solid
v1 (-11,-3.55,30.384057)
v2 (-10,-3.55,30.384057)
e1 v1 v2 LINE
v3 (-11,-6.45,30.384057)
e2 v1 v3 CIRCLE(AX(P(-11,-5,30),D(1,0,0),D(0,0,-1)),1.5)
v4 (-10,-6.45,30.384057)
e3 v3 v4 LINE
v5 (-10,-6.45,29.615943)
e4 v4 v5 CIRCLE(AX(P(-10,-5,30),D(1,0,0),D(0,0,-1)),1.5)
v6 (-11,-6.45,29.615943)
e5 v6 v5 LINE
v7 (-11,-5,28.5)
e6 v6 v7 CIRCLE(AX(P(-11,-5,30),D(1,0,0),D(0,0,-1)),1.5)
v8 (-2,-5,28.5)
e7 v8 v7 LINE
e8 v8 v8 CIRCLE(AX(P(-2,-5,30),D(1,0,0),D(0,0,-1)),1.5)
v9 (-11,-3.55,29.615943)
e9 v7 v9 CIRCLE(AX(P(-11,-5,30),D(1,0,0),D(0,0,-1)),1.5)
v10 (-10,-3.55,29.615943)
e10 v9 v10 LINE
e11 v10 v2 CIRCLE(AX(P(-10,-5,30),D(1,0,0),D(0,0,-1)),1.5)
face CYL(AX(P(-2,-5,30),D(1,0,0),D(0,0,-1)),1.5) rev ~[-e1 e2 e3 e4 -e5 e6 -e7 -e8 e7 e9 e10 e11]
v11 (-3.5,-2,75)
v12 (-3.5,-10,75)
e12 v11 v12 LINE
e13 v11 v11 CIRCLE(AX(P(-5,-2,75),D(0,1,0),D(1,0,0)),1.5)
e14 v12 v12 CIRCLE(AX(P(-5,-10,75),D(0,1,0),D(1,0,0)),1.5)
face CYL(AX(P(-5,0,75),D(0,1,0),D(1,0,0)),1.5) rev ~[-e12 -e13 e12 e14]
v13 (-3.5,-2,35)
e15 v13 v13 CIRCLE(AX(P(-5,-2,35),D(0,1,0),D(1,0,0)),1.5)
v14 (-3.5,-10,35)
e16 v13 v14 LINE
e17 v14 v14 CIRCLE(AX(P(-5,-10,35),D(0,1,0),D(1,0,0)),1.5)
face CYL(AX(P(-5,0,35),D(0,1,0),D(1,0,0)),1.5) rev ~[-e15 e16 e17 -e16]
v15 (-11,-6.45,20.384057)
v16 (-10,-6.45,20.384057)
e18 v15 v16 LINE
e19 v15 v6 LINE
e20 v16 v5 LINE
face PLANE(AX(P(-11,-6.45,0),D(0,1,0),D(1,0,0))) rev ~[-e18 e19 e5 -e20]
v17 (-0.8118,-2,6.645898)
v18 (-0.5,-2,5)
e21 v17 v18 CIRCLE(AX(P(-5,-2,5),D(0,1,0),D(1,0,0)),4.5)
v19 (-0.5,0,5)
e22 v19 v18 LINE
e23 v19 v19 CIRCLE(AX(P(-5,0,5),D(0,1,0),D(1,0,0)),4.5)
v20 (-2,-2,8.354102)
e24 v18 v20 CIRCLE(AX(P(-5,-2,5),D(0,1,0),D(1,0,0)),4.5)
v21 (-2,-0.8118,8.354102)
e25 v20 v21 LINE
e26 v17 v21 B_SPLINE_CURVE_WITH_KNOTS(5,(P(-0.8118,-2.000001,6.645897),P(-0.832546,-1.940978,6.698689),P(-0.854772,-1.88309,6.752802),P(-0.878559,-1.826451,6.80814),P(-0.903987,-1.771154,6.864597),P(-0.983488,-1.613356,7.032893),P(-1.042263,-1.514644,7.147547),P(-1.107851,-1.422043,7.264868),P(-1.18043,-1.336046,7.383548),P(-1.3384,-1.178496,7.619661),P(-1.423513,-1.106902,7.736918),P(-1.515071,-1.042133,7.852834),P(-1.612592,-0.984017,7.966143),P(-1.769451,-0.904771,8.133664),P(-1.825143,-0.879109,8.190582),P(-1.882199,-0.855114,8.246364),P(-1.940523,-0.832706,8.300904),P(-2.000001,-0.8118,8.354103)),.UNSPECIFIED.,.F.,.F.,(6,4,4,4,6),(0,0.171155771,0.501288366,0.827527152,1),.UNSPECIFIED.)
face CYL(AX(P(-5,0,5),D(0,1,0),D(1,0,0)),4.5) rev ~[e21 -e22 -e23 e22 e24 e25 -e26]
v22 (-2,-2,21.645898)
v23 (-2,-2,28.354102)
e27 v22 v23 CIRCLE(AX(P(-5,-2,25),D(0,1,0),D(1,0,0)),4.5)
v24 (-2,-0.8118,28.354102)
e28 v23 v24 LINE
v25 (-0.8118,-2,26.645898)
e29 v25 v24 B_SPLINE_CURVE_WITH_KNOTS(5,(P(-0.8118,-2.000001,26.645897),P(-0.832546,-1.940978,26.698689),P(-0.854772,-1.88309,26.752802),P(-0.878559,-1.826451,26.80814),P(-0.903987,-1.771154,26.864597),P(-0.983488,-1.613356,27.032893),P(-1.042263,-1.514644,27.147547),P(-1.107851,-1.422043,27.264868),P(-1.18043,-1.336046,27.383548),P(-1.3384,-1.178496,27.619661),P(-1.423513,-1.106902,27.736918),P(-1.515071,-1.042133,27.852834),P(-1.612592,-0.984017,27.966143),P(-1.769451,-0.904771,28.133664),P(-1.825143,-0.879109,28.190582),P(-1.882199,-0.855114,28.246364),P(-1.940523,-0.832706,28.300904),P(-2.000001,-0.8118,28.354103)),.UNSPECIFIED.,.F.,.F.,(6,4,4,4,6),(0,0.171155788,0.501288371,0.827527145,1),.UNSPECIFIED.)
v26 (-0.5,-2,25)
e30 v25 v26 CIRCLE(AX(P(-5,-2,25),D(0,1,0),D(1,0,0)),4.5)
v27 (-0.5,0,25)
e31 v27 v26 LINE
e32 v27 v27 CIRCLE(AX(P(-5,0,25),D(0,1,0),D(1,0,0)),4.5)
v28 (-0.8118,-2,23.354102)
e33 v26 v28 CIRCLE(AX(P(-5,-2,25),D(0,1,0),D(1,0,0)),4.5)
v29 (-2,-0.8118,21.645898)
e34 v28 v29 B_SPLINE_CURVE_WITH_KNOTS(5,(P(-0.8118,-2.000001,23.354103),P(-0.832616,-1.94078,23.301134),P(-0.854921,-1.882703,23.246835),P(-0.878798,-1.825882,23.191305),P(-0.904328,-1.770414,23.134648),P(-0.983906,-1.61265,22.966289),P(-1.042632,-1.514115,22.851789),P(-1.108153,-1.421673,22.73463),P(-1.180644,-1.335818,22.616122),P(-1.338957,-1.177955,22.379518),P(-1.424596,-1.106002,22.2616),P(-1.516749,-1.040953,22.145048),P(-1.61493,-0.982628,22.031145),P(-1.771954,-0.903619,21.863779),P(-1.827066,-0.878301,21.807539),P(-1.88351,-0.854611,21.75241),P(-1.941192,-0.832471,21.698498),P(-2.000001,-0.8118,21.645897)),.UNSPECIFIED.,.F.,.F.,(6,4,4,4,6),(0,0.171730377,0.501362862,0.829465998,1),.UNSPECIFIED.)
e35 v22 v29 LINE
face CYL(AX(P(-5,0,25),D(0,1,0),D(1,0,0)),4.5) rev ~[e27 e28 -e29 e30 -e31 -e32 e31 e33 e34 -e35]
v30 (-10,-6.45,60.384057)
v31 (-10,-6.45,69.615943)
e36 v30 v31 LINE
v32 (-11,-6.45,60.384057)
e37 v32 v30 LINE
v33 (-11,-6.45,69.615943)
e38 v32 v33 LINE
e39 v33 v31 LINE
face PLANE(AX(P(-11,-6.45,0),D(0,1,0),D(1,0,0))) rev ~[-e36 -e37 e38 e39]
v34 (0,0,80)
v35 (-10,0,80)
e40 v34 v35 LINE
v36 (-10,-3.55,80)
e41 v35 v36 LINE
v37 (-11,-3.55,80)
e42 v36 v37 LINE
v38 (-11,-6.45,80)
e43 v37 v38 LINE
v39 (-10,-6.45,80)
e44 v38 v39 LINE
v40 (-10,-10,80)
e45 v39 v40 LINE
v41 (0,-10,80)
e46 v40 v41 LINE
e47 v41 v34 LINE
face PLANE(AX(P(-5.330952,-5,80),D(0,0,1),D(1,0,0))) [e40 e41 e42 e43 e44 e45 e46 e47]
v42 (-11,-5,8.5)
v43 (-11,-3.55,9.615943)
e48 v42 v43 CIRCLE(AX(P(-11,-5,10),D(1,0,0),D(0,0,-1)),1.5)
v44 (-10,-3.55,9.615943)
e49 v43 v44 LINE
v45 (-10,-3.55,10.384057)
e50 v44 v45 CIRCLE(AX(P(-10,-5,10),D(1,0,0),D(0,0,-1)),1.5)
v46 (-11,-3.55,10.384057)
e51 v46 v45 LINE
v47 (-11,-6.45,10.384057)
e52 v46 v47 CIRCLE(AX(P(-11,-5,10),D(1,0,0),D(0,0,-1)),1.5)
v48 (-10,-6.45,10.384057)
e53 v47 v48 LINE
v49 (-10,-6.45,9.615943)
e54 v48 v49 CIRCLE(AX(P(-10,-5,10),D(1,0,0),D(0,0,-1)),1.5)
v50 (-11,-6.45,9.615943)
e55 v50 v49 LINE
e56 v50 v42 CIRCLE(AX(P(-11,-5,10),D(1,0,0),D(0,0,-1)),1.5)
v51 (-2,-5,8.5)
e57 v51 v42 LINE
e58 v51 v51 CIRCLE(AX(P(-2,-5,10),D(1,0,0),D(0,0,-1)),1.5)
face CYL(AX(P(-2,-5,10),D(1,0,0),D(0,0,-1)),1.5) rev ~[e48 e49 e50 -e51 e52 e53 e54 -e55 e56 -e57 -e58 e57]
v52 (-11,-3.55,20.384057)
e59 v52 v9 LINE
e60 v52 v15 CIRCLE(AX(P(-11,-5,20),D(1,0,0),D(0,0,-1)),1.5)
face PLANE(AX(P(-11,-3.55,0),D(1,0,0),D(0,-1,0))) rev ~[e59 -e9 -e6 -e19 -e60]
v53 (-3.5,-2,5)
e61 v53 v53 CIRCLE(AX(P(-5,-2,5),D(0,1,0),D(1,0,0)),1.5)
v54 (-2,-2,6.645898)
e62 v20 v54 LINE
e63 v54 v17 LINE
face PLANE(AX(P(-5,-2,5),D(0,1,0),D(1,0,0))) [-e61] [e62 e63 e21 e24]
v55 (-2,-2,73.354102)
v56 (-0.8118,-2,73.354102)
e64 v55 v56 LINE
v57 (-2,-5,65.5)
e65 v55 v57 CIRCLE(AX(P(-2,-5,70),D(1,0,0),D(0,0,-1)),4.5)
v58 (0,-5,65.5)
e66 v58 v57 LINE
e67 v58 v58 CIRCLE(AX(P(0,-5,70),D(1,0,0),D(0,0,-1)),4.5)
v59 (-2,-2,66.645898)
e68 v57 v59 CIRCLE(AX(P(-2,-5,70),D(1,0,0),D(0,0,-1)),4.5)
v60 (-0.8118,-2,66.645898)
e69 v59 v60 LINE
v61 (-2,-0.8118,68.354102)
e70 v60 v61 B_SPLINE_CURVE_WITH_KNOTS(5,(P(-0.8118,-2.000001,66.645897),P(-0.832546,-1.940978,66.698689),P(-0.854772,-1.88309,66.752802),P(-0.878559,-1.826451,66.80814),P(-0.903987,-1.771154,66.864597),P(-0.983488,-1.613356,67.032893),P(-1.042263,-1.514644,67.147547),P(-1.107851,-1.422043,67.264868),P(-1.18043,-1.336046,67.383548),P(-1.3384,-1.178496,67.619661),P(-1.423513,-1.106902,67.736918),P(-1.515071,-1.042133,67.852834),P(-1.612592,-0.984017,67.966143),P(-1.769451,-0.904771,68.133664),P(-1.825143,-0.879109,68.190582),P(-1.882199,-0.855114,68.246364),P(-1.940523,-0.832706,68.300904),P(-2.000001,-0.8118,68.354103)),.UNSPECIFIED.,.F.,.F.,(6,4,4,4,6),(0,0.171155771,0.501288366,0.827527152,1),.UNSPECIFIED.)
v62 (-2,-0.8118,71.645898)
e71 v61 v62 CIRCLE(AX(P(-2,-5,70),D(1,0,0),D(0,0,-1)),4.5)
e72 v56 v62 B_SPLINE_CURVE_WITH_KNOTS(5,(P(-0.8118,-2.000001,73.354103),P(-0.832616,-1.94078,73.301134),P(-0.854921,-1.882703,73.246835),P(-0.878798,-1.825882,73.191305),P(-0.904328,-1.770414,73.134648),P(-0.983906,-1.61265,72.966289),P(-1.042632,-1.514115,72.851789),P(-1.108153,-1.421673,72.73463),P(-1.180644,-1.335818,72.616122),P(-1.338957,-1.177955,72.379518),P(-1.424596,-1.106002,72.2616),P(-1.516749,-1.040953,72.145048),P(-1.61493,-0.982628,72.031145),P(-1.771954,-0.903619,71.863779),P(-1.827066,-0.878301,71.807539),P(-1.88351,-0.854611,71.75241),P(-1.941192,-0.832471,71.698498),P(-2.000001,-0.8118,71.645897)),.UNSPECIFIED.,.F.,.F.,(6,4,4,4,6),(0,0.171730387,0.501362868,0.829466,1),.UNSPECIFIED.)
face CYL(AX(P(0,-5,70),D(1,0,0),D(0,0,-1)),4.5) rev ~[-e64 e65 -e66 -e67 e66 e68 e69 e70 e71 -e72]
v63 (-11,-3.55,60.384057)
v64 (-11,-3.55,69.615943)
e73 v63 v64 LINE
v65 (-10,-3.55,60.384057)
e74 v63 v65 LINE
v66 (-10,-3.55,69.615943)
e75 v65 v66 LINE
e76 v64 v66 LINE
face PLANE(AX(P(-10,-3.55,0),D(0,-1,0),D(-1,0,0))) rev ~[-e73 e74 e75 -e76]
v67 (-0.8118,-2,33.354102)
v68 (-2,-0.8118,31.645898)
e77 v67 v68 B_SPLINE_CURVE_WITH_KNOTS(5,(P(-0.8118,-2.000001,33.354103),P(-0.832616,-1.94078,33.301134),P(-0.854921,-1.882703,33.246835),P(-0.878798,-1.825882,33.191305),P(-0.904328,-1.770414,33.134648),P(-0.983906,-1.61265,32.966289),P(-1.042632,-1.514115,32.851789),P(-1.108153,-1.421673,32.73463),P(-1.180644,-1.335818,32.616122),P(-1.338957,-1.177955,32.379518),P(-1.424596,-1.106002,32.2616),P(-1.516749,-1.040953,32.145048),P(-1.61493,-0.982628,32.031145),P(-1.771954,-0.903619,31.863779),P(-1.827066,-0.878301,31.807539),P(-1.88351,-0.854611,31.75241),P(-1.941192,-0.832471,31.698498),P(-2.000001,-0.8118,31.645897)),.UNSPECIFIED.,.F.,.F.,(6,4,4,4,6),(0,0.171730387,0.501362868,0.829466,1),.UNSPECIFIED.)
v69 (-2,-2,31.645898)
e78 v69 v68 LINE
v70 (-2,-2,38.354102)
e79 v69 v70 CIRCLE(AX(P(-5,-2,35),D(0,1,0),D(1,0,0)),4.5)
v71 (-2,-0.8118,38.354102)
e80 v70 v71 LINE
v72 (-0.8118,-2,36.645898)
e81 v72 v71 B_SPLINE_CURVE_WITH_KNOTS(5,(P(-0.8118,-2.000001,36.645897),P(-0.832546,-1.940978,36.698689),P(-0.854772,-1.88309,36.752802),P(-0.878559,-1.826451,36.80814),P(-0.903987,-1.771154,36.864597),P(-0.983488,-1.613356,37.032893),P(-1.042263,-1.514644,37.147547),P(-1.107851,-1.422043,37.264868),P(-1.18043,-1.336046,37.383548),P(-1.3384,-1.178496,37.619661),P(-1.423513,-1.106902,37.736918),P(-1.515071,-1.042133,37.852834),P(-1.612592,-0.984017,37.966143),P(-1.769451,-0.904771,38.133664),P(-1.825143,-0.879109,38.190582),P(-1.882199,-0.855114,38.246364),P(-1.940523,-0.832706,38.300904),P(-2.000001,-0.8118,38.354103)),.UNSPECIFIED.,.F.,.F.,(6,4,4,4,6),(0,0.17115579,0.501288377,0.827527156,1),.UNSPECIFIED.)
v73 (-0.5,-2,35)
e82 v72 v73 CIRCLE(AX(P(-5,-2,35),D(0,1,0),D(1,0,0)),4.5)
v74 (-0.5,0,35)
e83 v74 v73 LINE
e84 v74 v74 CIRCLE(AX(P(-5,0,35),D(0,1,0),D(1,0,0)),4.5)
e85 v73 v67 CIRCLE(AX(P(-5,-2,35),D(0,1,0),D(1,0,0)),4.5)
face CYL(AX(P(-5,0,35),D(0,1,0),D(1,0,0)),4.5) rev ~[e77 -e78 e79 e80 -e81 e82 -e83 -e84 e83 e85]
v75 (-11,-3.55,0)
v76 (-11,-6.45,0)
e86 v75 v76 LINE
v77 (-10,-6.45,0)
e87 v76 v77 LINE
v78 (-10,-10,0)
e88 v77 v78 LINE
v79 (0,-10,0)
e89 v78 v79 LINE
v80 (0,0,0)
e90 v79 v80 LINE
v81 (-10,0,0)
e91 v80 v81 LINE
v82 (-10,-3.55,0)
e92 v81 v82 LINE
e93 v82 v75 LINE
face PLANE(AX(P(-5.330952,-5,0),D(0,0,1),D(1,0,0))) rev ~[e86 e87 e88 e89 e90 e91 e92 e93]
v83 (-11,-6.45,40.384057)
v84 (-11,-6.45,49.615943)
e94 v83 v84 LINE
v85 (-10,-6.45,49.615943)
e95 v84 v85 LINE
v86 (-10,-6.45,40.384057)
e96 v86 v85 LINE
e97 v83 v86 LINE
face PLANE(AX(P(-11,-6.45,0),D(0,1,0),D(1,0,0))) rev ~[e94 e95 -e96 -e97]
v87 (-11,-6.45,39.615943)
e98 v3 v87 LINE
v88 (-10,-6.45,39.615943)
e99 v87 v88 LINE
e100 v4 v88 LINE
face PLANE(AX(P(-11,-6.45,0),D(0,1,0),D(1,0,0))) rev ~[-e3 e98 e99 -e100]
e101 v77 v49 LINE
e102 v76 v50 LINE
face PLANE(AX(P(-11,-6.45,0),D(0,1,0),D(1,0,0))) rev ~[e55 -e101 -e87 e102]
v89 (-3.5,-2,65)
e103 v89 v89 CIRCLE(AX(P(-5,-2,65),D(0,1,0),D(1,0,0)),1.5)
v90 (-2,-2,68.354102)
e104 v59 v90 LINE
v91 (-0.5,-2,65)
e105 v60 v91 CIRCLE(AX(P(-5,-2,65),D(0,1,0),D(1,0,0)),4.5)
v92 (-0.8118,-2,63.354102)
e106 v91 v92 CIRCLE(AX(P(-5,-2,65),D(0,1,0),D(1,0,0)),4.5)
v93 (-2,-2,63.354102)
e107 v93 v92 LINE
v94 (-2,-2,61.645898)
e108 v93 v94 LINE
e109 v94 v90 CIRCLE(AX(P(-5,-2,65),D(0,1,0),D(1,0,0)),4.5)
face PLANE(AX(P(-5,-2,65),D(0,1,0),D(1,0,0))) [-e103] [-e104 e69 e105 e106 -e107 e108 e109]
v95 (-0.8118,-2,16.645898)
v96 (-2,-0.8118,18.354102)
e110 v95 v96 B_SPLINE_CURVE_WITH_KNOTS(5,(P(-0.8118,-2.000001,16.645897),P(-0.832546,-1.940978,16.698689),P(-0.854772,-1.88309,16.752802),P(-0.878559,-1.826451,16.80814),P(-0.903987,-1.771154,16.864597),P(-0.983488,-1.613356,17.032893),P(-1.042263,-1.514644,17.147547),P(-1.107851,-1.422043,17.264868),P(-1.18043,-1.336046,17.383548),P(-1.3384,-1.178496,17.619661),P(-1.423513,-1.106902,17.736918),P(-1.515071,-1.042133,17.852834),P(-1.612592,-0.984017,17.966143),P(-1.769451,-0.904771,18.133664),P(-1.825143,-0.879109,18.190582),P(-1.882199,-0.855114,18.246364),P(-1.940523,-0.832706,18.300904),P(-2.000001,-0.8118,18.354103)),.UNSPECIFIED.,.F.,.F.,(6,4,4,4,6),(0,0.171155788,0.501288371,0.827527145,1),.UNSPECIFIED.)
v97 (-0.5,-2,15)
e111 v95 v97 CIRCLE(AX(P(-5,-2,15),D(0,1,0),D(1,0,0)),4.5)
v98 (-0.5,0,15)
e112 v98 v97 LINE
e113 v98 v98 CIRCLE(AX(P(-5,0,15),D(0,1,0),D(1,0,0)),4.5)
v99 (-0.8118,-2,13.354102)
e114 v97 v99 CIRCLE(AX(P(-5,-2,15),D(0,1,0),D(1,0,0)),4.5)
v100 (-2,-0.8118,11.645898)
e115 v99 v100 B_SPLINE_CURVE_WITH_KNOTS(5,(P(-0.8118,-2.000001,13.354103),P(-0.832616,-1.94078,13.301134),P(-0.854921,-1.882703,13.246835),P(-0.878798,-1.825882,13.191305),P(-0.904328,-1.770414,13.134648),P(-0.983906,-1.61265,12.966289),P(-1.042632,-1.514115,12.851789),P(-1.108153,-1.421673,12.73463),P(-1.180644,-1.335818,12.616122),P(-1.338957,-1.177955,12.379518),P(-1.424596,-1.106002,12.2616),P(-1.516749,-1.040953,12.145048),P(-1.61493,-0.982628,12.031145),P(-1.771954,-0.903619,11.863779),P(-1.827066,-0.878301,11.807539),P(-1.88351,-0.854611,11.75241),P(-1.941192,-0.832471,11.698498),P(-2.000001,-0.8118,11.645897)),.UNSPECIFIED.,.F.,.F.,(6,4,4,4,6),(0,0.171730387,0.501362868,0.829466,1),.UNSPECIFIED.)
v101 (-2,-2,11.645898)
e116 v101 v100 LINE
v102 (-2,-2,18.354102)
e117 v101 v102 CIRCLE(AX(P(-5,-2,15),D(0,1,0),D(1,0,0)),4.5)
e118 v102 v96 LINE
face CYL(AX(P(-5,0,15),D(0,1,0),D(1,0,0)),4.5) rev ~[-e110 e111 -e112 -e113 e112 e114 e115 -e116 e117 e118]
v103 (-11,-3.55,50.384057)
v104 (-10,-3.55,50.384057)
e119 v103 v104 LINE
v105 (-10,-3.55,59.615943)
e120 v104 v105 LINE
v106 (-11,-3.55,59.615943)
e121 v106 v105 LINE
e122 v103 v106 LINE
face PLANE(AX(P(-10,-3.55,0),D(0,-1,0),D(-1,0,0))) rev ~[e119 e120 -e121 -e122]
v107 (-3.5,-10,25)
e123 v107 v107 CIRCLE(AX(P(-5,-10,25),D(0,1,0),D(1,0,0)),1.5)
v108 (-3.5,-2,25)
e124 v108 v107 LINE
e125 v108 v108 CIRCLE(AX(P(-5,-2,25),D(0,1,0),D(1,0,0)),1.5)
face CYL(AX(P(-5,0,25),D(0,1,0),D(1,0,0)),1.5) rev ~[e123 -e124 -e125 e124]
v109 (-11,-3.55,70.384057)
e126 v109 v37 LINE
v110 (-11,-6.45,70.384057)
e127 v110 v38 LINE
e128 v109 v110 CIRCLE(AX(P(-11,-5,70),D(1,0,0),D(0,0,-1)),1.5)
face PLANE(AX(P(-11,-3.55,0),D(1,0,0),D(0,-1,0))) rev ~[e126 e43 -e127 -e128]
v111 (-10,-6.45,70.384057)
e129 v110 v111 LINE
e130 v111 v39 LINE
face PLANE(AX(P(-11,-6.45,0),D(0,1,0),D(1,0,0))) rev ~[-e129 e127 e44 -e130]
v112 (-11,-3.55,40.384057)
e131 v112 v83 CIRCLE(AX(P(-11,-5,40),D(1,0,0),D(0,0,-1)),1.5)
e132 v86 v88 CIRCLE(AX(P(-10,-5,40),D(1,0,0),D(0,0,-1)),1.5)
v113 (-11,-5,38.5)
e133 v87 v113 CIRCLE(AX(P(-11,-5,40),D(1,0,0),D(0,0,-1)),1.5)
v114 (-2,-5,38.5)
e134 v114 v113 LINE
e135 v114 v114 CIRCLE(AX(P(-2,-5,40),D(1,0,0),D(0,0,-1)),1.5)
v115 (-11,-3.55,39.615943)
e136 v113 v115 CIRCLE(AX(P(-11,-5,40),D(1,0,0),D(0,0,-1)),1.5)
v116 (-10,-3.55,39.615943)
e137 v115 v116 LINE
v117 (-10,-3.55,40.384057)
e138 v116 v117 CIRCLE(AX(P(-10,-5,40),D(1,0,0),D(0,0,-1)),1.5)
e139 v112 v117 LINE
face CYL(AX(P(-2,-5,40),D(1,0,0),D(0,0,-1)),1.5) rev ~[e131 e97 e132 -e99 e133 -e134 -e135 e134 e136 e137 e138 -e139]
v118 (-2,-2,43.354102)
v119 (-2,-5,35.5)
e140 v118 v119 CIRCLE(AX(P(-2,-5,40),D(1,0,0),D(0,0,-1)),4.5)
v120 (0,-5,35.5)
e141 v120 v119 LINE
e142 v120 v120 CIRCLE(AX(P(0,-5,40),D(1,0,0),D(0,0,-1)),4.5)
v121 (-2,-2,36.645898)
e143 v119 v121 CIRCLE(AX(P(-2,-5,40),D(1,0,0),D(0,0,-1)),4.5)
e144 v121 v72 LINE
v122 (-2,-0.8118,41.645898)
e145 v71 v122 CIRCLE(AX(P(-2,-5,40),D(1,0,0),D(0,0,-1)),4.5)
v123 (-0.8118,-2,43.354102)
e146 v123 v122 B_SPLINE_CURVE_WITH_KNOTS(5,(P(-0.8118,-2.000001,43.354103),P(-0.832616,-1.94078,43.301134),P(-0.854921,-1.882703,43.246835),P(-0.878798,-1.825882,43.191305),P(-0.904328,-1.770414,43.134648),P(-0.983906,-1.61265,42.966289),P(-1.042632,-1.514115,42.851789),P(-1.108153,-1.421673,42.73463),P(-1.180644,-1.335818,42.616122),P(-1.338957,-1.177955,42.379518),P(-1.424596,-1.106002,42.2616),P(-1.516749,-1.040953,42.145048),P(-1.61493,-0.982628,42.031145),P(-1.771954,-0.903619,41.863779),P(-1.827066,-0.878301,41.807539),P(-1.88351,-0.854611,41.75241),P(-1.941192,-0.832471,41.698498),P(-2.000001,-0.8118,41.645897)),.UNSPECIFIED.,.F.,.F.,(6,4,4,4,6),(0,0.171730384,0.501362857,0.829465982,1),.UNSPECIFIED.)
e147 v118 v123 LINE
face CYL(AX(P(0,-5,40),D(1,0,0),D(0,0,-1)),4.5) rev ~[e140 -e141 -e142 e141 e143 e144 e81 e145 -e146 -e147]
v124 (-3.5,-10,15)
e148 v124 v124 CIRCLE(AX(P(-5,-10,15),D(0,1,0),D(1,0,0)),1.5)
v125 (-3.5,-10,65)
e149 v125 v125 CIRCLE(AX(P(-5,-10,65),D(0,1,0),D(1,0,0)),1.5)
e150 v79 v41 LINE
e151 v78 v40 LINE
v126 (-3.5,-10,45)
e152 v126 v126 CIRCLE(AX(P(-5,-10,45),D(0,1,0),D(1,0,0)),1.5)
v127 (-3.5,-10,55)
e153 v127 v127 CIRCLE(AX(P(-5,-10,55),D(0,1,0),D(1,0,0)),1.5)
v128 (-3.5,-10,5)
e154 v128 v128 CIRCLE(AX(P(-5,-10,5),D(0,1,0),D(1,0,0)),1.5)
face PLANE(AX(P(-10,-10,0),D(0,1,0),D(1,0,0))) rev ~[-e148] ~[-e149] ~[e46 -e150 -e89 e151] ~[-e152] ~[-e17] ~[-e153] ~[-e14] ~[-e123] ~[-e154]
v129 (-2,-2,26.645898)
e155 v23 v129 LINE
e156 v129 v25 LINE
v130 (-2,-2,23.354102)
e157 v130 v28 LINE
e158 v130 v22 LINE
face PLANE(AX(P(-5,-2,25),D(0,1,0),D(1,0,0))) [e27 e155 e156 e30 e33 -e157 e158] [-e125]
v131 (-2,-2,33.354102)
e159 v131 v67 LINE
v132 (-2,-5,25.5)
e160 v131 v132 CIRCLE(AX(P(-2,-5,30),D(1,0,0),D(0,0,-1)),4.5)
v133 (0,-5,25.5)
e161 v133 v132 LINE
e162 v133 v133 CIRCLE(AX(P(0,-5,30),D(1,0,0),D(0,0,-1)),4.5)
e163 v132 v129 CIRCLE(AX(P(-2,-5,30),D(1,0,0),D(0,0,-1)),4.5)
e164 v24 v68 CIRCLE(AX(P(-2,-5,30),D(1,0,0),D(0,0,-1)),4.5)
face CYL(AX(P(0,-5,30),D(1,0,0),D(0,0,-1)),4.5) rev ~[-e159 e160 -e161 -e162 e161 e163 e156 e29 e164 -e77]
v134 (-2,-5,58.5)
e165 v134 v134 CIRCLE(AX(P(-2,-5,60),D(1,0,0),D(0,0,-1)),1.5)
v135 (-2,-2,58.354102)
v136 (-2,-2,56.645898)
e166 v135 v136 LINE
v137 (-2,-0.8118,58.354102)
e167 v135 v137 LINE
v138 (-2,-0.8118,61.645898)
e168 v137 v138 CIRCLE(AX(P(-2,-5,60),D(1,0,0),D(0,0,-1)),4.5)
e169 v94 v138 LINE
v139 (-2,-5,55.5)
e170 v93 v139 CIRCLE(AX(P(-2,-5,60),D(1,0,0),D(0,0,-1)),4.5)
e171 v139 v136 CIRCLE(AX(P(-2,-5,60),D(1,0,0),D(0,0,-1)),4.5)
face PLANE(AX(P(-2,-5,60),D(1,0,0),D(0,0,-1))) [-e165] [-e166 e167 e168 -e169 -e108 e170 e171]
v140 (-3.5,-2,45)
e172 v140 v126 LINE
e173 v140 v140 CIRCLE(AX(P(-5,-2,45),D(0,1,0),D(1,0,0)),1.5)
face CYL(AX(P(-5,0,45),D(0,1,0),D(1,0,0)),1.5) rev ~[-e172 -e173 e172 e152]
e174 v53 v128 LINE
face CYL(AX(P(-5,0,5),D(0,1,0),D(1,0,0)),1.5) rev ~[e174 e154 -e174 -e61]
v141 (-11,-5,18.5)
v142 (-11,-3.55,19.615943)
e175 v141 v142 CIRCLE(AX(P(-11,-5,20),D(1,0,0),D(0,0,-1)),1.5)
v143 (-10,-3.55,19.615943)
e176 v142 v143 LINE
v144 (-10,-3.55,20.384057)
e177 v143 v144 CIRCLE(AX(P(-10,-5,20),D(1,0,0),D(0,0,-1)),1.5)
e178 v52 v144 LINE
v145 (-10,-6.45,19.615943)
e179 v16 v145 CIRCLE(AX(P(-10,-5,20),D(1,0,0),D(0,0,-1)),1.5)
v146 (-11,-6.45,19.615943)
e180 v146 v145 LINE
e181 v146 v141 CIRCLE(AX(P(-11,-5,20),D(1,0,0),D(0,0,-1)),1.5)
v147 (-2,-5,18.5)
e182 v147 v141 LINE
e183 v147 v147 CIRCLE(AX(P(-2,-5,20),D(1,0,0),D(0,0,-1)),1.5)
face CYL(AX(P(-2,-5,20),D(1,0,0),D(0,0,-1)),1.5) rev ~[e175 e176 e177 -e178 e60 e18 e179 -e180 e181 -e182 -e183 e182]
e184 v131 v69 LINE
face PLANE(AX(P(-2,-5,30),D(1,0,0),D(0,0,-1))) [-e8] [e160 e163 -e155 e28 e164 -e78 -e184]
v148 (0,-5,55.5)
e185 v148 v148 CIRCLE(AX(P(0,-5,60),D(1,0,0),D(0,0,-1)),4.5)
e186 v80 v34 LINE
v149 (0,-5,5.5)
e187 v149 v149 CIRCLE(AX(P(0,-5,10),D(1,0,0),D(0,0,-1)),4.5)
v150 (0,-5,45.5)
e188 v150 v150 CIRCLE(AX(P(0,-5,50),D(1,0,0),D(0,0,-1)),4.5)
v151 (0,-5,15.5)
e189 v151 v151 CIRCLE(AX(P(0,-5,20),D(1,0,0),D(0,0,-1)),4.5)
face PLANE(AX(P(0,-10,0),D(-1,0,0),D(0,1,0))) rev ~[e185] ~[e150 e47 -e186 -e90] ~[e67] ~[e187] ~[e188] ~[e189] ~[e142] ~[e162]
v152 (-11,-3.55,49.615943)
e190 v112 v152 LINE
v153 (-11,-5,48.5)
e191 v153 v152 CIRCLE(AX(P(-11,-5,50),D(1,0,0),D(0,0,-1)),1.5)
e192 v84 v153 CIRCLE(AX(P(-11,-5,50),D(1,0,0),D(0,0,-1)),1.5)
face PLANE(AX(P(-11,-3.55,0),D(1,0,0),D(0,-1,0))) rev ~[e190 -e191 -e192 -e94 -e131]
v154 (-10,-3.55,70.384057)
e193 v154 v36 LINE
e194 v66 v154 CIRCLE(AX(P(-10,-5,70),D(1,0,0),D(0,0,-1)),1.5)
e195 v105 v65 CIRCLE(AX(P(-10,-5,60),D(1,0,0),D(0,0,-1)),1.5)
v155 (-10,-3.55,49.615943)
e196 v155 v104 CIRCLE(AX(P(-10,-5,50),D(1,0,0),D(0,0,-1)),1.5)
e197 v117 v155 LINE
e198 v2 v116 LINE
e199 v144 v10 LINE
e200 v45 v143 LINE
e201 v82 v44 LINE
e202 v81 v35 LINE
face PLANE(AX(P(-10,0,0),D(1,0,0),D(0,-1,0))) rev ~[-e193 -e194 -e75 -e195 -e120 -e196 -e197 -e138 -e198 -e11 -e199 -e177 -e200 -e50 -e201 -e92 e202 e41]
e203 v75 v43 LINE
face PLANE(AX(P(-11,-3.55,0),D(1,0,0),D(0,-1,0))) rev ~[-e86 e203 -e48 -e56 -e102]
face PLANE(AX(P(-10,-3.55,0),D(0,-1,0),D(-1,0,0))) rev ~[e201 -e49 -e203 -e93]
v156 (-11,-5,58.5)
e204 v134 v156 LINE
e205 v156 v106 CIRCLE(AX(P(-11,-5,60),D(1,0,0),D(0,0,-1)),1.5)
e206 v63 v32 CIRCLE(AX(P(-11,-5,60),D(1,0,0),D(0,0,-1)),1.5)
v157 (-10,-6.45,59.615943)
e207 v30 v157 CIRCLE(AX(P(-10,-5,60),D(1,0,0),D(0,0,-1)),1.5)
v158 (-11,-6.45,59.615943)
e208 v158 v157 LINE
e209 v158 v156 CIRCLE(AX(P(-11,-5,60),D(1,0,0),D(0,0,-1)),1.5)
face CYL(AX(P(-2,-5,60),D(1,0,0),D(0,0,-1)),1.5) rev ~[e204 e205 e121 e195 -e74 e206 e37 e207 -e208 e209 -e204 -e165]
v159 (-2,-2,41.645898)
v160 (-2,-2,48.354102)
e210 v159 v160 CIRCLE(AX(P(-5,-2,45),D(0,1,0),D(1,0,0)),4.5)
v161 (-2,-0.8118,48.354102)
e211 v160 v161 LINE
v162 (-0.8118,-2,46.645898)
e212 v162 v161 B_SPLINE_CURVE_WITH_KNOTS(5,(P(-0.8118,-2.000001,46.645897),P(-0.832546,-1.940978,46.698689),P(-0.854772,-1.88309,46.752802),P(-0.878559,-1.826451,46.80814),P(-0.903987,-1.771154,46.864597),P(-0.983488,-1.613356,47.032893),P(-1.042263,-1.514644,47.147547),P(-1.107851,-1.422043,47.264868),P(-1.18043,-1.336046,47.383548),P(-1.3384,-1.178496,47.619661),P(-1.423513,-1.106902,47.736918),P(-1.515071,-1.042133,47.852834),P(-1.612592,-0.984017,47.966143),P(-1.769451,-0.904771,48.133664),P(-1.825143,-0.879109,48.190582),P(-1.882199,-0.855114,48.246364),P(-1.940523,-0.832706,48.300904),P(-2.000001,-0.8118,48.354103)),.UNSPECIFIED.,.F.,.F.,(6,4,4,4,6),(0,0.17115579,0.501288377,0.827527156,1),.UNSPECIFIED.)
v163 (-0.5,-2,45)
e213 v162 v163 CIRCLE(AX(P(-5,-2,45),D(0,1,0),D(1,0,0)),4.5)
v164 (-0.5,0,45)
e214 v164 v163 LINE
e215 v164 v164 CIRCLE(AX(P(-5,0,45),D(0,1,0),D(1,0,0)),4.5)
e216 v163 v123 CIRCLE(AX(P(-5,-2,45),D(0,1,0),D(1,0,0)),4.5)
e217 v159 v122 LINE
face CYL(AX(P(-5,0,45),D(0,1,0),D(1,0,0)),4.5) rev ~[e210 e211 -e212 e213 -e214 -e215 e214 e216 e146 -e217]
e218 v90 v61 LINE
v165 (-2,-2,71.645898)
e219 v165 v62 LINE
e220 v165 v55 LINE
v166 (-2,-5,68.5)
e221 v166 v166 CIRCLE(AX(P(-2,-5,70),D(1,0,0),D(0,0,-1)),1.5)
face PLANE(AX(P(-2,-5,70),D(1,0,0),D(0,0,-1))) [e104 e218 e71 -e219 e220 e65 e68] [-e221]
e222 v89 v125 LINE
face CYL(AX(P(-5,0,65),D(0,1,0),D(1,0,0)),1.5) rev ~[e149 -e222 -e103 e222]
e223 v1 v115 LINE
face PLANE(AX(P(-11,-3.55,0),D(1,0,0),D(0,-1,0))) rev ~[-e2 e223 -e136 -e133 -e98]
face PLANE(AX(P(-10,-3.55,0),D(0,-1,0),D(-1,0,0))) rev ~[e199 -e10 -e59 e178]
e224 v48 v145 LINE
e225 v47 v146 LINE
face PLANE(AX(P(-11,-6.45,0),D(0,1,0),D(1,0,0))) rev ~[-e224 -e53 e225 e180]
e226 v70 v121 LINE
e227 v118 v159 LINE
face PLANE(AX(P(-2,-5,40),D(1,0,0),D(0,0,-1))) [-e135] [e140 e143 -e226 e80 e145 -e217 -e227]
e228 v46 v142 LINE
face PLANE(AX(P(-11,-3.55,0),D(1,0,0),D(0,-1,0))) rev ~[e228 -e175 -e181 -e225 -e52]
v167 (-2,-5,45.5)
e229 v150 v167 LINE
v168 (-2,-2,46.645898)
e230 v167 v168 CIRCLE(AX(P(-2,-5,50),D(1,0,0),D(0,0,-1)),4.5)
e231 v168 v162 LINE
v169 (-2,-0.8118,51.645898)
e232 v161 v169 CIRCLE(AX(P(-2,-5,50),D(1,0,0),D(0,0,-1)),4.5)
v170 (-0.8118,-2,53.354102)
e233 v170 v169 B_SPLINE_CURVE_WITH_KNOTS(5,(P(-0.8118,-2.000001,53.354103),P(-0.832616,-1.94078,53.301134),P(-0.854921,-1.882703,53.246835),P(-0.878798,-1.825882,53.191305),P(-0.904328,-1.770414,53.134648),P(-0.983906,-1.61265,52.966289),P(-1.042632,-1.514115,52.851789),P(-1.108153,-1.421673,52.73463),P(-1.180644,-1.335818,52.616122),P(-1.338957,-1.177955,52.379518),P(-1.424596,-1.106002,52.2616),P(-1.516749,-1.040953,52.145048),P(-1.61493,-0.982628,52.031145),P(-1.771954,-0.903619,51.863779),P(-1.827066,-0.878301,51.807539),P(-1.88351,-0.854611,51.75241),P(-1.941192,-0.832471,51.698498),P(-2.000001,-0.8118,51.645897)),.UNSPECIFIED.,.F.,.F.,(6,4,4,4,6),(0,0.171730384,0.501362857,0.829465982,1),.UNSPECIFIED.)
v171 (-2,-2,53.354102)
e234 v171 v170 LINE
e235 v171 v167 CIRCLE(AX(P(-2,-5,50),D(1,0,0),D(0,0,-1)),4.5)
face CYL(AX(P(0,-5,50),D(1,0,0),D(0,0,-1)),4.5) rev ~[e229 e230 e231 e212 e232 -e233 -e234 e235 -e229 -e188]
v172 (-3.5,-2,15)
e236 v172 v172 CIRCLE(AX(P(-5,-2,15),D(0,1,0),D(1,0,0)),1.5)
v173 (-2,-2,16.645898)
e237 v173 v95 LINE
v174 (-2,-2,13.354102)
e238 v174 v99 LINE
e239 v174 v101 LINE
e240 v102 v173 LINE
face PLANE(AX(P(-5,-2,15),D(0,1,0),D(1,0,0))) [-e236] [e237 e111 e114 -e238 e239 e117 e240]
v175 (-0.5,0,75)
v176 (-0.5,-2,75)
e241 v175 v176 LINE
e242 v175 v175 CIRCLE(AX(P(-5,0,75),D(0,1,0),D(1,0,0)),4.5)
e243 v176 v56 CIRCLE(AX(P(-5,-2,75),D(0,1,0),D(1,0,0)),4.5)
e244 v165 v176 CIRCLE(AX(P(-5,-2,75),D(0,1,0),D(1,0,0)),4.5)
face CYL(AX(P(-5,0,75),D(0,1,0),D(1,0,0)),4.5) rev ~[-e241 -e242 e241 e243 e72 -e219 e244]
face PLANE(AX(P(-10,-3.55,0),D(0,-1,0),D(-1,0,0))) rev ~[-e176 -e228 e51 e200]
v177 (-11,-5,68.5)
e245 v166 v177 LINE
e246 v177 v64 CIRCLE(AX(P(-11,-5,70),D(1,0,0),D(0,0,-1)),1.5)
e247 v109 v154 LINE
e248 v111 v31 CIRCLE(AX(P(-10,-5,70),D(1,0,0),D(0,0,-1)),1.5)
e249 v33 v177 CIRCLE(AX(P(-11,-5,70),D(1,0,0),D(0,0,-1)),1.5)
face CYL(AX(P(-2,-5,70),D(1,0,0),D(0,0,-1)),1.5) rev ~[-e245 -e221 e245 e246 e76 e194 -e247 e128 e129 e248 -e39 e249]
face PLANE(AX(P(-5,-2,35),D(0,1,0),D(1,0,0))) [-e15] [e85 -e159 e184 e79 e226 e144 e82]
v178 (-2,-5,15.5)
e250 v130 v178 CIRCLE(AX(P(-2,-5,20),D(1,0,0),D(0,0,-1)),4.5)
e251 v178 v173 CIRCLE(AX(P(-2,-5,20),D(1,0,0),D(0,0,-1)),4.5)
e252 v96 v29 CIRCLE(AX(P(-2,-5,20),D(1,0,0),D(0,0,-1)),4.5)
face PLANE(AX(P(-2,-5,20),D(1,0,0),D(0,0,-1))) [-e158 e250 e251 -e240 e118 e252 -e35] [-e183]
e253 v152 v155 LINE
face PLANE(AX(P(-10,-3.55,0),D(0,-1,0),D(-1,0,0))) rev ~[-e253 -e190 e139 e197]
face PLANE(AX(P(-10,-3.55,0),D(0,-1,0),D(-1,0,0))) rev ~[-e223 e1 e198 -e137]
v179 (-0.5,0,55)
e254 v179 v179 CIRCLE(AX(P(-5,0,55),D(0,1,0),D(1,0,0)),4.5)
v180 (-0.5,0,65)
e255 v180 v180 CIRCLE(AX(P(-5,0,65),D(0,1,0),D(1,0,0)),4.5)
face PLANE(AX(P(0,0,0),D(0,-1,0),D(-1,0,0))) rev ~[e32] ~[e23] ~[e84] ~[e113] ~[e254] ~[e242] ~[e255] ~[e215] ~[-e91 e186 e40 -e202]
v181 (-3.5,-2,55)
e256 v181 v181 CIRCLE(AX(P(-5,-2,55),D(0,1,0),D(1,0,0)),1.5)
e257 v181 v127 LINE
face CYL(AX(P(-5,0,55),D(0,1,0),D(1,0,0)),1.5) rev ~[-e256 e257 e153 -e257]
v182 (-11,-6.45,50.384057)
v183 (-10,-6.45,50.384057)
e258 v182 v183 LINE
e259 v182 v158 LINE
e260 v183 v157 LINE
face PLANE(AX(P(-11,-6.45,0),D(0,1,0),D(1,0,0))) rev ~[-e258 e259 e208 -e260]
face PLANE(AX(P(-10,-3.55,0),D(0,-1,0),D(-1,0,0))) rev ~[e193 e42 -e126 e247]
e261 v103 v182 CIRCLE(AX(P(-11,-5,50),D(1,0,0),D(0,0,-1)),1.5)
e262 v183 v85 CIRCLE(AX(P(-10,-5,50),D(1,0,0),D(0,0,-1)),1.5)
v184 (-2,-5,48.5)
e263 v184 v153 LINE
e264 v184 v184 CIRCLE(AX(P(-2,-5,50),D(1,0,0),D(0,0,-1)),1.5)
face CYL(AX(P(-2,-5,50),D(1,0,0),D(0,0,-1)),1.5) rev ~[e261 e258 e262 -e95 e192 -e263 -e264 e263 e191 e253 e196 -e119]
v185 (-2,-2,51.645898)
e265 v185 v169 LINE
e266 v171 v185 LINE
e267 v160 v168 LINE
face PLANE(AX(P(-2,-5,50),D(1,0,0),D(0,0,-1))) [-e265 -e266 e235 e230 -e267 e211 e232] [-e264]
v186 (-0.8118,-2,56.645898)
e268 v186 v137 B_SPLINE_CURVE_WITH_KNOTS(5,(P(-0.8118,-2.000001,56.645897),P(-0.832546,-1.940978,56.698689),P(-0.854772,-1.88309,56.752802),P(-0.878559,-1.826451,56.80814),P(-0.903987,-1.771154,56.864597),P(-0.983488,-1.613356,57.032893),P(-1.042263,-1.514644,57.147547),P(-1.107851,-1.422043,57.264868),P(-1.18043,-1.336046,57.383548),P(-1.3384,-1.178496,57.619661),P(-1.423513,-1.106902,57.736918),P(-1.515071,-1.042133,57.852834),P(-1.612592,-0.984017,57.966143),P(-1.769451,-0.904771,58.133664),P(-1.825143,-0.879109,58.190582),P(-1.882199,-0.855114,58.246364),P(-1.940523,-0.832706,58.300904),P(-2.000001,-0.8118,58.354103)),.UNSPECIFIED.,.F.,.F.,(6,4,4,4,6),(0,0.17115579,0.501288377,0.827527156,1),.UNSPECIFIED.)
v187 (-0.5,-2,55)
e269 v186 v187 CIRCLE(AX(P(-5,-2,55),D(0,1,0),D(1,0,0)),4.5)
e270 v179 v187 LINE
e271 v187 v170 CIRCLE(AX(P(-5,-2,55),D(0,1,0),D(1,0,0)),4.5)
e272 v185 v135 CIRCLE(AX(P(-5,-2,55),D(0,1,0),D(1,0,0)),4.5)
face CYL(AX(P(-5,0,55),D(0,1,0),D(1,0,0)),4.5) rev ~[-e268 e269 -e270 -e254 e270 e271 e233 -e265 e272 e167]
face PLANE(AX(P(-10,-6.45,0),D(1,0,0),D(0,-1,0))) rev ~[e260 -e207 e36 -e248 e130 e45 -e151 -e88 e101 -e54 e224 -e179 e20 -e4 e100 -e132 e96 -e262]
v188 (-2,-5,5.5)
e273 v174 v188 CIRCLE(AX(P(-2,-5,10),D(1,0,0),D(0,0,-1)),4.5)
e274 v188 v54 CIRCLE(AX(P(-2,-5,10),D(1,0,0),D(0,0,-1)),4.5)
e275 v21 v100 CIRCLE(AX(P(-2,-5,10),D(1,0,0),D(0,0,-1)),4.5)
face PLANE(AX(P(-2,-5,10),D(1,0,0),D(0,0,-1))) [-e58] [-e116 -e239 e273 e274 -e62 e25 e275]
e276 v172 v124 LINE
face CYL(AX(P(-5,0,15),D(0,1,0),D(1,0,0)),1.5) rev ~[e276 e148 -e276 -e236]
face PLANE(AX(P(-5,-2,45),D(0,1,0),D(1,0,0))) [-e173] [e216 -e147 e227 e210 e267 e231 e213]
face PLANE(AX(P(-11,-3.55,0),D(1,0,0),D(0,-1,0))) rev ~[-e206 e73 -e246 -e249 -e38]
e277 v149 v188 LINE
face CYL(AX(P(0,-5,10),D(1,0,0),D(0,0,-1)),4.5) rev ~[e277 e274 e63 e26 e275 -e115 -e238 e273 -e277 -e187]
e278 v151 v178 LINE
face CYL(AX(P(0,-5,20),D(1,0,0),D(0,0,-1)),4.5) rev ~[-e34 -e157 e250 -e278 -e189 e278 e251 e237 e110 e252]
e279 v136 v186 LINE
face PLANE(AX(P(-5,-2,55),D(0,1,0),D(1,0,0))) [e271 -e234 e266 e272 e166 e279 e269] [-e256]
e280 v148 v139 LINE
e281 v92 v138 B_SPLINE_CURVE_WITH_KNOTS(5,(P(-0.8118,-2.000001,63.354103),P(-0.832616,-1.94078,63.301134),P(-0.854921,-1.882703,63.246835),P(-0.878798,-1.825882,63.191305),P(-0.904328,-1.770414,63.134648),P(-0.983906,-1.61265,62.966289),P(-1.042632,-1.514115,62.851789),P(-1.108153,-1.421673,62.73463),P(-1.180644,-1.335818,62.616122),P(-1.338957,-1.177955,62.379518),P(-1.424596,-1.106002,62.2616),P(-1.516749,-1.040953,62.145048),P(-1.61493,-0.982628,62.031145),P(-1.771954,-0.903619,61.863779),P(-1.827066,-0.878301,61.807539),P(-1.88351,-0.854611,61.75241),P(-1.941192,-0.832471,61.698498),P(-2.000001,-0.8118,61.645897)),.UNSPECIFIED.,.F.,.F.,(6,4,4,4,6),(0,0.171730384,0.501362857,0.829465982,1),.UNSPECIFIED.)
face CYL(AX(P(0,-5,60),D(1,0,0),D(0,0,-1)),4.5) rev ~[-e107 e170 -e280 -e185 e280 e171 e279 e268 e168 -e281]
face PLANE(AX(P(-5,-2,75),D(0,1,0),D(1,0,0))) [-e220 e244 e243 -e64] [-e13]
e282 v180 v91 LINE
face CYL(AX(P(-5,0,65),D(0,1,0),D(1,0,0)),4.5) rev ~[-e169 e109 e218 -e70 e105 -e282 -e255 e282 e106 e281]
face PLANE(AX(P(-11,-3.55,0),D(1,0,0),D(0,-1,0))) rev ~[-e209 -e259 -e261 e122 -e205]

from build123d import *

# Parameters (mm, degrees)
BOSS_EXTRUDE1_DEPTH = 80
SKETCH2_R           = 1.5
CUT_EXTRUDE1_DEPTH  = 11
SKETCH3_R           = 4.5
CUT_EXTRUDE2_DEPTH  = 2
SKETCH4_R           = 1.5
CUT_EXTRUDE3_DEPTH  = 10
SKETCH6_R           = 4.5
CUT_EXTRUDE4_DEPTH  = 2
LPATTERN1_COUNT     = 8
LPATTERN1_PITCH     = 10
LPATTERN2_COUNT     = 7
LPATTERN2_PITCH     = 10


with BuildPart() as part:
    # Sketch1 → Boss-Extrude1 (new body)
    with BuildSketch(Plane.XY):
        Polygon((-10, 0), (-10, -3.55), (-11, -3.55), (-11, -6.45), (-10, -6.45), (-10, -10), (0, -10), (0, 0), align=None)
    extrude(amount=BOSS_EXTRUDE1_DEPTH)

    # Sketch2 → Cut-Extrude1 (cut, through all)
    with BuildSketch(Plane(origin=(0, 0, 0), x_dir=(1, 0, 0), z_dir=(0, 1, 0))):
        with Locations((-5, -75)):
            Circle(SKETCH2_R)
    cut_extrude1 = extrude(amount=-CUT_EXTRUDE1_DEPTH, mode=Mode.SUBTRACT)

    # Sketch3 → Cut-Extrude2 (cut)
    with BuildSketch(Plane(origin=(0, 0, 0), x_dir=(0, 0, -1), z_dir=(1, 0, 0))):
        with Locations((-70, -5)):
            Circle(SKETCH3_R)
    cut_extrude2 = extrude(amount=-CUT_EXTRUDE2_DEPTH, mode=Mode.SUBTRACT)

    # Sketch4 → Cut-Extrude3 (cut, through all)
    with BuildSketch(Plane(origin=(-2, 0, 0), x_dir=(0, 0, -1), z_dir=(1, 0, 0))):
        with Locations((-70, -5)):
            Circle(SKETCH4_R)
    cut_extrude3 = extrude(amount=-CUT_EXTRUDE3_DEPTH, mode=Mode.SUBTRACT)

    # Sketch6 → Cut-Extrude4 (cut)
    with BuildSketch(Plane(origin=(0, 0, 0), x_dir=(1, 0, 0), z_dir=(0, 1, 0))):
        with Locations((-5, -75)):
            Circle(SKETCH6_R)
    cut_extrude4 = extrude(amount=-CUT_EXTRUDE4_DEPTH, mode=Mode.SUBTRACT)

    # LPattern1: Cut-Extrude1, Cut-Extrude4 ×8
    with Locations(*[(0, 0, -i * LPATTERN1_PITCH) for i in range(1, LPATTERN1_COUNT)]):
        add(cut_extrude1, mode=Mode.SUBTRACT)
        add(cut_extrude4, mode=Mode.SUBTRACT)

    # LPattern2: Cut-Extrude2, Cut-Extrude3 ×7
    with Locations(*[(0, 0, -i * LPATTERN2_PITCH) for i in range(1, LPATTERN2_COUNT)]):
        add(cut_extrude2, mode=Mode.SUBTRACT)
        add(cut_extrude3, mode=Mode.SUBTRACT)


solid = part.part
